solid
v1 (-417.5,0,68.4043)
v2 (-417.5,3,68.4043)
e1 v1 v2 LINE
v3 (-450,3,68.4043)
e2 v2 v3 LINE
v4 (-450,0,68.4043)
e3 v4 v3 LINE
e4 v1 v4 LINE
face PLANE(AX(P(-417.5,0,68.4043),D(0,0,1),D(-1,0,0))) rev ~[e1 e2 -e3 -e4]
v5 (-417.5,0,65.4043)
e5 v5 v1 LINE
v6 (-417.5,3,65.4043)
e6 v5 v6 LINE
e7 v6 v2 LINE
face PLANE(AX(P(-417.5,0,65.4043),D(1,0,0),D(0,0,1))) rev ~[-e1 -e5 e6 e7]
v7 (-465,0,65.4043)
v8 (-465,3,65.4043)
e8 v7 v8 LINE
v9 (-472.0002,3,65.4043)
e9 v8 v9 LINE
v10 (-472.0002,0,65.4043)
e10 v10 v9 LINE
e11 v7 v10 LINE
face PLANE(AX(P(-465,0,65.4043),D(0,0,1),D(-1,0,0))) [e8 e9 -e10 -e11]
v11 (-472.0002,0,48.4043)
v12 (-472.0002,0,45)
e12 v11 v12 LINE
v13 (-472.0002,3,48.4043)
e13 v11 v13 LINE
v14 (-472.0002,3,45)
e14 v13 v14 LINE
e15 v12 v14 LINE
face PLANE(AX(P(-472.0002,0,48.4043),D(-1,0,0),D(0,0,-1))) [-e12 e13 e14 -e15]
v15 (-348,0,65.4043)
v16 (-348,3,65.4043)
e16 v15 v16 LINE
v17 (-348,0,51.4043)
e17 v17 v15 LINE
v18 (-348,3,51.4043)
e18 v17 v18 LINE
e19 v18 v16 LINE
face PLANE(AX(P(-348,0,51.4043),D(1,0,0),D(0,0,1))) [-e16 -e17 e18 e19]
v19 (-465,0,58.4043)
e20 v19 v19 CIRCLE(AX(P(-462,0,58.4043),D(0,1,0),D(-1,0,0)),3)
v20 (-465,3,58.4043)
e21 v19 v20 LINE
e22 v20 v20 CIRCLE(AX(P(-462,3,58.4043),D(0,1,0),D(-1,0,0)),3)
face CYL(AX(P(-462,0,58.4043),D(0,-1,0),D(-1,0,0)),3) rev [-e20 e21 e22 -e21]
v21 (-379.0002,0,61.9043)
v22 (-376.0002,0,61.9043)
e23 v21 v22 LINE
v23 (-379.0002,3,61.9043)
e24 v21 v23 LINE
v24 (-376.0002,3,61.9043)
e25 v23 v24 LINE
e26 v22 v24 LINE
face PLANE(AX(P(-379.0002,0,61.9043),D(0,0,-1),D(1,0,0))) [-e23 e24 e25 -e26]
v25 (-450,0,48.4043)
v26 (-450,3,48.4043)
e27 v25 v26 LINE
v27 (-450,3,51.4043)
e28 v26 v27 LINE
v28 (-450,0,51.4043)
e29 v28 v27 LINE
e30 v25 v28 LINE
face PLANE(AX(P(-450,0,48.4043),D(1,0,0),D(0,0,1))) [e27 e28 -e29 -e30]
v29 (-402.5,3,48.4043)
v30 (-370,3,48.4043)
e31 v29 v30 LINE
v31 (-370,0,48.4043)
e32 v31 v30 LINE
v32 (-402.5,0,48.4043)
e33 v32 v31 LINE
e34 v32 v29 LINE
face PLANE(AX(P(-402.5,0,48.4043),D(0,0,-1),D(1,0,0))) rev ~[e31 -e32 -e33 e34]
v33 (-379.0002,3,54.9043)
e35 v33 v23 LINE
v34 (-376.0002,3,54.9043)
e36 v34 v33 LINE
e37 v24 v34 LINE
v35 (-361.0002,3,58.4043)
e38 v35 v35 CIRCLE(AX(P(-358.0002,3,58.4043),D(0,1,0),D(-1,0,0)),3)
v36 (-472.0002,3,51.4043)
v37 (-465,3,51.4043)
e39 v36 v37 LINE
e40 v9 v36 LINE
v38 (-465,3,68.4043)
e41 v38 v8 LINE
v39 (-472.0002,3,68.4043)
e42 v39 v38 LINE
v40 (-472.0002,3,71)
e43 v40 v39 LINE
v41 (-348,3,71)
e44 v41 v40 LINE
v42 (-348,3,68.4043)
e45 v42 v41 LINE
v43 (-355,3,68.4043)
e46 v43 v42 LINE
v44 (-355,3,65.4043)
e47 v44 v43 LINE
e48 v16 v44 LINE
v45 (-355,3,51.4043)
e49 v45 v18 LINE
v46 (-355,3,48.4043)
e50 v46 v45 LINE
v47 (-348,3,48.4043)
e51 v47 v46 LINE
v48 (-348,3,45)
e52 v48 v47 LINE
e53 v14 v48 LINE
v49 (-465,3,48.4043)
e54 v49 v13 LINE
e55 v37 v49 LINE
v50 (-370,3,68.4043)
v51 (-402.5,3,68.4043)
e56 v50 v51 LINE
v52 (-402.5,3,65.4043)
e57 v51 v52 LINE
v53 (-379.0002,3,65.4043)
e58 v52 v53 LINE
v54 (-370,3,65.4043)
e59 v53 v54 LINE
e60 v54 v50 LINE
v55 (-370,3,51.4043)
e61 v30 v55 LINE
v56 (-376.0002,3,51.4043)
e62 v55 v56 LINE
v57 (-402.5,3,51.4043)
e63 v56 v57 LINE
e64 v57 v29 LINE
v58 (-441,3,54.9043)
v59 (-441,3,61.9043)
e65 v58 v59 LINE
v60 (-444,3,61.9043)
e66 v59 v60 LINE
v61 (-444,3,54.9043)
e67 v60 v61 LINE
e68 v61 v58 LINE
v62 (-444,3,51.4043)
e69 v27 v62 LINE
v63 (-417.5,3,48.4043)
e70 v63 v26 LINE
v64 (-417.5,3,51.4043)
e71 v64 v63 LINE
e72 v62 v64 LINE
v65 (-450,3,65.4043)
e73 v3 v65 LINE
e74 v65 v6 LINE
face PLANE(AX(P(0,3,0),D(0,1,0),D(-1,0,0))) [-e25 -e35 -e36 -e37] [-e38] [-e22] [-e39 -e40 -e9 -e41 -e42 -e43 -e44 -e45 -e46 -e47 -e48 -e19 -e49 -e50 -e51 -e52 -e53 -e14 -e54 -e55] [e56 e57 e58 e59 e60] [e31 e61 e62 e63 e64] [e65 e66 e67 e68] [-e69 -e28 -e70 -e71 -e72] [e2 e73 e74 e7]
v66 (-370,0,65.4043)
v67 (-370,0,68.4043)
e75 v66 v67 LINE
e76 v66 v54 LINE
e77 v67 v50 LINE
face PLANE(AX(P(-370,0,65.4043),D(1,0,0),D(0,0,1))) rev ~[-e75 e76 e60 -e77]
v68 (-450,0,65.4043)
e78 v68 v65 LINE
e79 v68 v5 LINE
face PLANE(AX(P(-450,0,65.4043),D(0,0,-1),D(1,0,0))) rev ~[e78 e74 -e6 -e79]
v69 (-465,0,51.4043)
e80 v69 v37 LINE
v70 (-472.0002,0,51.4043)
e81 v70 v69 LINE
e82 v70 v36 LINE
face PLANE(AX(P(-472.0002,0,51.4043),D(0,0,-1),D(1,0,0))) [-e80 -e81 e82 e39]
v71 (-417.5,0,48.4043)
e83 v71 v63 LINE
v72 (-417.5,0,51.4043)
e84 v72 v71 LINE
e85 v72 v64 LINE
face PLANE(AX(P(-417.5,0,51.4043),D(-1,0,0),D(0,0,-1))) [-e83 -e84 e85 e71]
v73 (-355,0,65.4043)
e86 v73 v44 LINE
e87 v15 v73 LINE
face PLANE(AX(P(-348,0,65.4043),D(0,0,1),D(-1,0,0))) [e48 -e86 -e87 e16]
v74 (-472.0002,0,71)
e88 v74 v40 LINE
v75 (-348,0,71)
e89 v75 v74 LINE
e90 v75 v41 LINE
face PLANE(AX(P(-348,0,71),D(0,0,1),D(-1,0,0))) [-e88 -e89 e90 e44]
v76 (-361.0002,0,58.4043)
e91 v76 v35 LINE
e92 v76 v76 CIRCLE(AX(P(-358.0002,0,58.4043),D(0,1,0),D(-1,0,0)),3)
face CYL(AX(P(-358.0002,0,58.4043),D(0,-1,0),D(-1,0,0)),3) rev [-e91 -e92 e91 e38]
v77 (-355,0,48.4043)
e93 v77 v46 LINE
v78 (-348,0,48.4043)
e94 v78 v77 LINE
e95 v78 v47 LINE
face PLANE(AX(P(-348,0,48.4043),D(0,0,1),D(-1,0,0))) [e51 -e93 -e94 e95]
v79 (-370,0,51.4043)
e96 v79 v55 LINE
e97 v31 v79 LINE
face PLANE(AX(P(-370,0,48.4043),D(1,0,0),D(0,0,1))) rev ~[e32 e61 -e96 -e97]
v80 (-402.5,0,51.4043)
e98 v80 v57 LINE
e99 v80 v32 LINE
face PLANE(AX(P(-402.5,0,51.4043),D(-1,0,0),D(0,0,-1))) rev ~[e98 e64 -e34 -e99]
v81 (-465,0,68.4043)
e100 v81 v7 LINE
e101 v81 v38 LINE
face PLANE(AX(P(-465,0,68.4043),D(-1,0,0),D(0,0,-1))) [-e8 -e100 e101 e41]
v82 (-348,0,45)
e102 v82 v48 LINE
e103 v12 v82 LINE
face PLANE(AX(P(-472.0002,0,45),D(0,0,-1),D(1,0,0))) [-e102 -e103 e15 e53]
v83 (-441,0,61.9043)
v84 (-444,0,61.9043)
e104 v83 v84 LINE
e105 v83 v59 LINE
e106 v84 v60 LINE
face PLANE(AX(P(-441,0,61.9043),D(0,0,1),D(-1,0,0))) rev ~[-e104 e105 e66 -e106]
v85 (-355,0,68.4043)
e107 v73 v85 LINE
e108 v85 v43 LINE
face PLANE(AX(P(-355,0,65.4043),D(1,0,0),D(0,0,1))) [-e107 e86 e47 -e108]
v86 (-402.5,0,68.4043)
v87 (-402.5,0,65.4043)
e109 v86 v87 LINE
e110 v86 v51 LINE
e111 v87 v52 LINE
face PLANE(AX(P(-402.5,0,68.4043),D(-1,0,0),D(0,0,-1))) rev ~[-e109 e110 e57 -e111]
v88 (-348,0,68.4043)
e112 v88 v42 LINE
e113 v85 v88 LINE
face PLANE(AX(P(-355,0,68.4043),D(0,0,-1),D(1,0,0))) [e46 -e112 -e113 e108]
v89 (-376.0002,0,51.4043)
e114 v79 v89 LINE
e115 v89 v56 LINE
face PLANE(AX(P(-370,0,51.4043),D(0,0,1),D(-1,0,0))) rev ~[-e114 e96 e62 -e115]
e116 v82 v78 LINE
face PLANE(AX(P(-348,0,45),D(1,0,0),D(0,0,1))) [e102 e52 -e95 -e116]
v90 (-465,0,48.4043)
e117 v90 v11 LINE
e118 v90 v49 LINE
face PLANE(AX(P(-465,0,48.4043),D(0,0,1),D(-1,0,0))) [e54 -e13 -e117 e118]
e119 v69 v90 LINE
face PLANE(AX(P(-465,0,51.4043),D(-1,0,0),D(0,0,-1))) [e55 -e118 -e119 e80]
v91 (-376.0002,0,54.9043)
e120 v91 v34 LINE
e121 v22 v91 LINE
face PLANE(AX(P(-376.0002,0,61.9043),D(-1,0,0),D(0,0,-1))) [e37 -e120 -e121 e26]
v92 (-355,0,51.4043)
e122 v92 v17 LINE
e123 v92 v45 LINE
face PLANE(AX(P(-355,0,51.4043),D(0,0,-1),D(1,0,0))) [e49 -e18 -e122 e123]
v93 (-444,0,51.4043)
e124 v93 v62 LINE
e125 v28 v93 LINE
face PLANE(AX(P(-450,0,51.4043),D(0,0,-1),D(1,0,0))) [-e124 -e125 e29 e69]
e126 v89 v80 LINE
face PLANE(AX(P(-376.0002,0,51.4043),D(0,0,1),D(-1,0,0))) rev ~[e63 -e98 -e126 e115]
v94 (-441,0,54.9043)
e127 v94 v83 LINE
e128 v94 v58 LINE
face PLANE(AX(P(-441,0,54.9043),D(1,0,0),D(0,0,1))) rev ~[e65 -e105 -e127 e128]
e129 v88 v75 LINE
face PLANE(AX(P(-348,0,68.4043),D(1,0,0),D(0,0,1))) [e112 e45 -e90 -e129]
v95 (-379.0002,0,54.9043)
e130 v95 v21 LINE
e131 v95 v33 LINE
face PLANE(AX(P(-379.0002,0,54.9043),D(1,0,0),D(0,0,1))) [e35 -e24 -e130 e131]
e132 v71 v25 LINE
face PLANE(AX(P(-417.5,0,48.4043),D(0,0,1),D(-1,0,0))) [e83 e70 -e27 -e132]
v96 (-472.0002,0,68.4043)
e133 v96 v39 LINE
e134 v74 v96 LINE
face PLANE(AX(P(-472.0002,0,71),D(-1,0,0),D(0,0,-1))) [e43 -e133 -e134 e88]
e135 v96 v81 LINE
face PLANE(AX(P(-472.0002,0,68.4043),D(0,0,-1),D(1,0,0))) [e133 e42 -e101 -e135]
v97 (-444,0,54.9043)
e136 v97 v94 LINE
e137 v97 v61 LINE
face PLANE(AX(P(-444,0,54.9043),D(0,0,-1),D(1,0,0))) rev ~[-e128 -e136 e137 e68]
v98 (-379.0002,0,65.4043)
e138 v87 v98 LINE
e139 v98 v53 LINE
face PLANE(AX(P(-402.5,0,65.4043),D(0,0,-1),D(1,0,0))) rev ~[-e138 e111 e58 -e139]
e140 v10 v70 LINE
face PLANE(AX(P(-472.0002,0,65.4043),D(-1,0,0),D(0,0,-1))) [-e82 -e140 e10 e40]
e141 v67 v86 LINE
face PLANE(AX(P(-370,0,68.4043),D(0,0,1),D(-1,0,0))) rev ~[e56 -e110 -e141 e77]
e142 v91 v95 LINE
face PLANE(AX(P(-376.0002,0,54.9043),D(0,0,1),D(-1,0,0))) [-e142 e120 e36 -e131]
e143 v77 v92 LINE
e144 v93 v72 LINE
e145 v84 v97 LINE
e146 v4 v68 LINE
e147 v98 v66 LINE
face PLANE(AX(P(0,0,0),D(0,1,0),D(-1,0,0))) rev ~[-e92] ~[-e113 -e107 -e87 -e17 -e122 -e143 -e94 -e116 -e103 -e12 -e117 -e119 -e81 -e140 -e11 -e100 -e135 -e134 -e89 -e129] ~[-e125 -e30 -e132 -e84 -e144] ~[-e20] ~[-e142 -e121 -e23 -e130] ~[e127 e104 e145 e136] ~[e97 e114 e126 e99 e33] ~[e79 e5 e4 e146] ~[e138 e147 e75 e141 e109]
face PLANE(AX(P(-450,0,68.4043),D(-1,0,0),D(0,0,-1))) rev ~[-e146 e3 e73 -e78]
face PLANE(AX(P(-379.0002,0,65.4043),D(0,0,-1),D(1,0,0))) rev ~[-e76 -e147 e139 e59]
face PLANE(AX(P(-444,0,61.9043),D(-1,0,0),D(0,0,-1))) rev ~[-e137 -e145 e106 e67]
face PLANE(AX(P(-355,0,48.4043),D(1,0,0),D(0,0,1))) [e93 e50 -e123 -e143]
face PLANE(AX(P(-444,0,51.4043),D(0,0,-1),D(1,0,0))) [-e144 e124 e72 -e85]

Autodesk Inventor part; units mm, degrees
ref_plane "YZ Plane" through (0, 0, 0) normal (1, 0, 0) x (0, 1, 0)
ref_plane "XZ Plane" through (0, 0, 0) normal (0, 1, 0) x (-1, 0, 0)
ref_plane "XY Plane" through (0, 0, 0) normal (0, 0, 1) x (1, 0, 0)
sketch "Sketch2" plane through (0, 0, 0) normal (0, 1, 0) x (-1, 0, 0)
  line L0 (600, 68.7059) -> (634, 68.7059)
  arc A0 (642, 60.7059) -> (634, 68.7059) centre (634, 60.7059) ccw
  line L1 (642, 60.7059) -> (642, 56.7059)
  arc A1 (634, 48.7059) -> (642, 56.7059) centre (634, 56.7059) ccw
  line L2 (634, 48.7059) -> (632, 48.7059)
  arc A2 (632, 48.7059) -> (624, 40.7059) centre (632, 40.7059) ccw
  line L3 (624, 40.7059) -> (624, 36.7059)
  arc A3 (624, 36.7059) -> (632, 28.7059) centre (632, 36.7059) ccw
  line L4 (632, 28.7059) -> (634, 28.7059)
  arc A4 (642, 20.7059) -> (634, 28.7059) centre (634, 20.7059) ccw
  line L5 (642, 20.7059) -> (642, 16.7059)
  arc A5 (634, 8.7059) -> (642, 16.7059) centre (634, 16.7059) ccw
  line L6 (634, 8.7059) -> (600, 8.7059)
  arc A6 (592, 16.7059) -> (600, 8.7059) centre (600, 16.7059) ccw
  line L7 (592, 16.7059) -> (592, 21.7059)
  line L8 (592, 21.7059) -> (606.1716, 35.8774)
  arc A7 (606.1716, 35.8774) -> (606.1716, 41.5343) centre (603.3431, 38.7059) ccw
  line L9 (606.1716, -97.5343) -> (592, -111.7059)
  line L10 (592, -111.7059) -> (592, -116.7059)
  arc A8 (592, -116.7059) -> (600, -124.7059) centre (600, -116.7059) ccw
  line L11 (600, -124.7059) -> (634, -124.7059)
  arc A9 (634, -124.7059) -> (642, -116.7059) centre (634, -116.7059) ccw
  line L12 (642, -116.7059) -> (642, -112.7059)
  arc A10 (642, -112.7059) -> (634, -104.7059) centre (634, -112.7059) ccw
  line L13 (634, -104.7059) -> (632, -104.7059)
  arc A11 (624, -96.7059) -> (632, -104.7059) centre (632, -96.7059) ccw
  line L14 (624, -96.7059) -> (624, -92.7059)
  arc A12 (632, -84.7059) -> (624, -92.7059) centre (632, -92.7059) ccw
  line L15 (632, -84.7059) -> (634, -84.7059)
  arc A13 (634, -84.7059) -> (642, -76.7059) centre (634, -76.7059) ccw
  line L16 (642, -76.7059) -> (642, -72.7059)
  arc A14 (642, -72.7059) -> (634, -64.7059) centre (634, -72.7059) ccw
  line L17 (634, -64.7059) -> (600, -64.7059)
  arc A15 (600, -64.7059) -> (592, -72.7059) centre (600, -72.7059) ccw
  line L18 (592, -72.7059) -> (592, -77.7059)
  line L19 (592, -77.7059) -> (606.1716, -91.8774)
  arc A16 (606.1716, -97.5343) -> (606.1716, -91.8774) centre (603.3431, -94.7059) ccw
  circle A17 centre (618, -74.7059) radius 3
  circle A18 centre (634, -74.7059) radius 3
  circle A19 centre (634, -114.7059) radius 3
  circle A20 centre (618, -114.7059) radius 3
  circle A21 centre (618, 58.7059) radius 3
  circle A22 centre (634, 58.7059) radius 3
  circle A23 centre (634, 18.7059) radius 3
  circle A24 centre (618, 18.7059) radius 3
  line L20 (606.1716, 41.5343) -> (592, 55.7059)
  line L21 (592, 55.7059) -> (592, 60.7059)
  arc A25 (600, 68.7059) -> (592, 60.7059) centre (600, 60.7059) ccw
  line L22 (329, -137) -> (729, -137)
  line L23 (729, -137) -> (729, 83)
  line L24 (729, 83) -> (329, 83)
  line L25 (329, 83) -> (329, -137)
  line L26 (444, -107.4043) -> (417.5, -107.4043)
  line L27 (417.5, -107.4043) -> (417.5, -104.4043)
  line L28 (417.5, -104.4043) -> (450, -104.4043)
  line L29 (450, -104.4043) -> (450, -107.4043)
  line L30 (450, -107.4043) -> (444, -107.4043)
  line L31 (441, -117.9043) -> (444, -117.9043)
  line L32 (444, -117.9043) -> (444, -110.9043)
  line L33 (444, -110.9043) -> (441, -110.9043)
  line L34 (441, -110.9043) -> (441, -117.9043)
  line L35 (417.5, -121.4043) -> (417.5, -124.4043)
  line L36 (417.5, -124.4043) -> (450, -124.4043)
  line L37 (450, -124.4043) -> (450, -121.4043)
  line L38 (450, -121.4043) -> (417.5, -121.4043)
  line L39 (376.0002, -107.4043) -> (402.5, -107.4043)
  line L40 (402.5, -107.4043) -> (402.5, -104.4043)
  line L41 (402.5, -104.4043) -> (370, -104.4043)
  line L42 (370, -104.4043) -> (370, -107.4043)
  line L43 (370, -107.4043) -> (376.0002, -107.4043)
  line L44 (379.0002, -121.4043) -> (370, -121.4043)
  line L45 (370, -121.4043) -> (370, -124.4043)
  line L46 (370, -124.4043) -> (402.5, -124.4043)
  line L47 (402.5, -124.4043) -> (402.5, -121.4043)
  line L48 (402.5, -121.4043) -> (379.0002, -121.4043)
  line L49 (379.0002, -117.9043) -> (376.0002, -117.9043)
  line L50 (376.0002, -117.9043) -> (376.0002, -110.9043)
  line L51 (376.0002, -110.9043) -> (379.0002, -110.9043)
  line L52 (379.0002, -110.9043) -> (379.0002, -117.9043)
  line L53 (348, -127) -> (472.0002, -127)
  line L54 (472.0002, -127) -> (472.0002, -124.4043)
  line L55 (472.0002, -124.4043) -> (465, -124.4043)
  line L56 (465, -124.4043) -> (465, -121.4043)
  line L57 (465, -121.4043) -> (472.0002, -121.4043)
  line L58 (472.0002, -121.4043) -> (472.0002, -107.4043)
  line L59 (472.0002, -107.4043) -> (465, -107.4043)
  line L60 (465, -107.4043) -> (465, -104.4043)
  line L61 (465, -104.4043) -> (472.0002, -104.4043)
  line L62 (472.0002, -104.4043) -> (472.0002, -101)
  line L63 (472.0002, -101) -> (348, -101)
  line L64 (348, -101) -> (348, -104.4043)
  line L65 (348, -104.4043) -> (355, -104.4043)
  line L66 (355, -104.4043) -> (355, -107.4043)
  line L67 (355, -107.4043) -> (348, -107.4043)
  line L68 (348, -107.4043) -> (348, -121.4043)
  line L69 (348, -121.4043) -> (355, -121.4043)
  line L70 (355, -121.4043) -> (355, -124.4043)
  line L71 (355, -124.4043) -> (348, -124.4043)
  line L72 (348, -124.4043) -> (348, -127)
  circle A26 centre (447.7252, -37.7011) radius 3
  circle A27 centre (372.2748, -37.7011) radius 3
  circle A28 centre (410, -64.4043) radius 3
  circle A29 centre (448.5, -66.4043) radius 3
  circle A30 centre (371.5, -66.4043) radius 3
  circle A31 centre (410, -80.4043) radius 3
  line L73 (379, -84.4043) -> (376, -84.4043)
  line L74 (376, -84.4043) -> (376, -74.4043)
  line L75 (376, -74.4043) -> (379, -74.4043)
  line L76 (379, -74.4043) -> (379, -84.4043)
  line L77 (379, -57.4043) -> (376, -57.4043)
  line L78 (376, -57.4043) -> (376, -47.4043)
  line L79 (376, -47.4043) -> (379, -47.4043)
  line L80 (379, -47.4043) -> (379, -57.4043)
  line L81 (441, -47.4043) -> (441, -57.4043)
  line L82 (441, -57.4043) -> (444, -57.4043)
  line L83 (444, -57.4043) -> (444, -47.4043)
  line L84 (444, -47.4043) -> (441, -47.4043)
  line L85 (441, -74.4043) -> (441, -84.4043)
  line L86 (441, -84.4043) -> (444, -84.4043)
  line L87 (444, -84.4043) -> (444, -74.4043)
  line L88 (444, -74.4043) -> (441, -74.4043)
  line L89 (427, -44.4043) -> (427, -72.4043)
  arc A32 (427, -72.4043) -> (433, -72.4043) centre (430, -72.4043) ccw
  line L90 (433, -72.4043) -> (433, -44.4043)
  arc A33 (433, -44.4043) -> (427, -44.4043) centre (430, -44.4043) ccw
  arc A34 (387, -72.4043) -> (393, -72.4043) centre (390, -72.4043) ccw
  line L91 (393, -72.4043) -> (393, -44.4043)
  arc A35 (393, -44.4043) -> (387, -44.4043) centre (390, -44.4043) ccw
  line L92 (387, -44.4043) -> (387, -72.4043)
  line L93 (372.3983, -27.7019) -> (383.2576, -27.7018)
  arc A36 (390.8984, -33.3311) -> (383.2576, -27.7018) centre (383.2577, -35.7018) ccw
  arc A37 (390.8984, -33.3311) -> (429.1018, -33.3307) centre (410, -27.4043) ccw
  arc A38 (436.7424, -27.7012) -> (429.1018, -33.3307) centre (436.7425, -35.7012) ccw
  line L94 (436.7424, -27.7012) -> (447.7251, -27.7011)
  arc A39 (457.0715, -34.1449) -> (447.7251, -27.7011) centre (447.7252, -37.7011) ccw
  line L95 (457.0715, -34.1449) -> (477.9368, -88.9818)
  arc A40 (474.1982, -94.4043) -> (477.9368, -88.9818) centre (474.1982, -90.4043) ccw
  line L96 (474.1982, -94.4043) -> (465, -94.4043)
  line L97 (465, -94.4043) -> (465, -91.4043)
  line L98 (465, -91.4043) -> (450, -91.4043)
  line L99 (450, -91.4043) -> (450, -94.4043)
  line L100 (450, -94.4043) -> (417.5, -94.4043)
  line L101 (417.5, -94.4043) -> (417.5, -91.4043)
  line L102 (417.5, -91.4043) -> (402.5, -91.4043)
  line L103 (402.5, -91.4043) -> (402.5, -94.4043)
  line L104 (402.5, -94.4043) -> (370, -94.4043)
  line L105 (370, -94.4043) -> (370, -91.4043)
  line L106 (370, -91.4043) -> (355, -91.4043)
  line L107 (355, -91.4043) -> (355, -94.4043)
  line L108 (355, -94.4043) -> (345.8018, -94.4043)
  arc A41 (342.0632, -88.9818) -> (345.8018, -94.4043) centre (345.8018, -90.4043) ccw
  line L109 (342.0632, -88.9818) -> (362.9285, -34.1449)
  arc A42 (372.3983, -27.7019) -> (362.9285, -34.1449) centre (372.2748, -37.7011) ccw
  line L110 (491.3983, -95.7004) -> (502.2576, -95.7005)
  arc A43 (502.2576, -95.7005) -> (509.8984, -90.0712) centre (502.2577, -87.7005) ccw
  arc A44 (548.1018, -90.0716) -> (509.8984, -90.0712) centre (529, -95.998) ccw
  arc A45 (548.1018, -90.0716) -> (555.7424, -95.701) centre (555.7425, -87.701) ccw
  line L111 (555.7424, -95.701) -> (566.7251, -95.7011)
  arc A46 (566.7251, -95.7011) -> (576.0715, -89.2574) centre (566.7252, -85.7011) ccw
  line L112 (576.0715, -89.2574) -> (596.9368, -34.4205)
  arc A47 (596.9368, -34.4205) -> (593.1982, -28.998) centre (593.1982, -32.998) ccw
  line L113 (593.1982, -28.998) -> (584, -28.998)
  line L114 (584, -28.998) -> (584, -31.998)
  line L115 (584, -31.998) -> (569, -31.998)
  line L116 (569, -31.998) -> (569, -28.998)
  line L117 (569, -28.998) -> (536.5, -28.998)
  line L118 (536.5, -28.998) -> (536.5, -31.998)
  line L119 (536.5, -31.998) -> (521.5, -31.998)
  line L120 (521.5, -31.998) -> (521.5, -28.998)
  line L121 (521.5, -28.998) -> (489, -28.998)
  line L122 (489, -28.998) -> (489, -31.998)
  line L123 (489, -31.998) -> (474, -31.998)
  line L124 (474, -31.998) -> (474, -28.998)
  line L125 (474, -28.998) -> (464.8018, -28.998)
  arc A48 (464.8018, -28.998) -> (461.0632, -34.4205) centre (464.8018, -32.998) ccw
  line L126 (461.0632, -34.4205) -> (481.9285, -89.2574)
  arc A49 (481.9285, -89.2574) -> (491.3983, -95.7004) centre (491.2748, -85.7011) ccw
  arc A50 (512, -50.998) -> (506, -50.998) centre (509, -50.998) ccw
  line L127 (512, -50.998) -> (512, -78.998)
  arc A51 (506, -78.998) -> (512, -78.998) centre (509, -78.998) ccw
  line L128 (506, -78.998) -> (506, -50.998)
  line L129 (546, -78.998) -> (546, -50.998)
  arc A52 (552, -50.998) -> (546, -50.998) centre (549, -50.998) ccw
  line L130 (552, -50.998) -> (552, -78.998)
  arc A53 (546, -78.998) -> (552, -78.998) centre (549, -78.998) ccw
  line L131 (560, -48.998) -> (560, -38.998)
  line L132 (560, -38.998) -> (563, -38.998)
  line L133 (563, -38.998) -> (563, -48.998)
  line L134 (563, -48.998) -> (560, -48.998)
  line L135 (560, -75.998) -> (560, -65.998)
  line L136 (560, -65.998) -> (563, -65.998)
  line L137 (563, -65.998) -> (563, -75.998)
  line L138 (563, -75.998) -> (560, -75.998)
  line L139 (498, -65.998) -> (495, -65.998)
  line L140 (495, -65.998) -> (495, -75.998)
  line L141 (495, -75.998) -> (498, -75.998)
  line L142 (498, -75.998) -> (498, -65.998)
  line L143 (498, -38.998) -> (495, -38.998)
  line L144 (495, -38.998) -> (495, -48.998)
  line L145 (495, -48.998) -> (498, -48.998)
  line L146 (498, -48.998) -> (498, -38.998)
  circle A54 centre (529, -42.998) radius 3
  circle A55 centre (490.5, -56.998) radius 3
  circle A56 centre (567.5, -56.998) radius 3
  circle A57 centre (529, -58.998) radius 3
  circle A58 centre (491.2748, -85.7011) radius 3
  circle A59 centre (566.7252, -85.7011) radius 3
  circle A60 centre (462, -114.4043) radius 3
  circle A61 centre (358.0002, -114.4043) radius 3
  line L147 (578, -104.4043) -> (578, -107.4043)
  line L148 (578, -107.4043) -> (585, -107.4043)
  line L149 (585, -107.4043) -> (585, -110.9043)
  line L150 (585, -110.9043) -> (588, -110.9043)
  line L151 (588, -110.9043) -> (588, -117.9043)
  line L152 (588, -117.9043) -> (585, -117.9043)
  line L153 (585, -117.9043) -> (585, -121.4043)
  line L154 (585, -121.4043) -> (578, -121.4043)
  line L155 (578, -121.4043) -> (578, -124.4043)
  line L156 (578, -124.4043) -> (568, -124.4043)
  line L157 (568, -124.4043) -> (568, -121.4043)
  line L158 (568, -121.4043) -> (551, -121.4043)
  line L159 (551, -121.4043) -> (551, -124.4043)
  line L160 (551, -124.4043) -> (541, -124.4043)
  line L161 (541, -124.4043) -> (541, -121.4043)
  line L162 (541, -121.4043) -> (535, -121.4043)
  line L163 (535, -121.4043) -> (535, -107.4043)
  line L164 (535, -107.4043) -> (541, -107.4043)
  line L165 (541, -107.4043) -> (541, -104.4043)
  line L166 (541, -104.4043) -> (551, -104.4043)
  line L167 (551, -104.4043) -> (551, -107.4043)
  line L168 (551, -107.4043) -> (568, -107.4043)
  line L169 (568, -107.4043) -> (568, -104.4043)
  line L170 (568, -104.4043) -> (578, -104.4043)
  line L171 (520, -104.4043) -> (520, -107.4043)
  line L172 (520, -107.4043) -> (527, -107.4043)
  line L173 (527, -107.4043) -> (527, -110.9043)
  line L174 (527, -110.9043) -> (530, -110.9043)
  line L175 (530, -110.9043) -> (530, -117.9043)
  line L176 (530, -117.9043) -> (527, -117.9043)
  line L177 (527, -117.9043) -> (527, -121.4043)
  line L178 (527, -121.4043) -> (520, -121.4043)
  line L179 (520, -121.4043) -> (520, -124.4043)
  line L180 (520, -124.4043) -> (510, -124.4043)
  line L181 (510, -124.4043) -> (510, -121.4043)
  line L182 (510, -121.4043) -> (493, -121.4043)
  line L183 (493, -121.4043) -> (493, -124.4043)
  line L184 (493, -124.4043) -> (483, -124.4043)
  line L185 (483, -124.4043) -> (483, -121.4043)
  line L186 (483, -121.4043) -> (477, -121.4043)
  line L187 (477, -121.4043) -> (477, -107.4043)
  line L188 (477, -107.4043) -> (483, -107.4043)
  line L189 (483, -107.4043) -> (483, -104.4043)
  line L190 (483, -104.4043) -> (493, -104.4043)
  line L191 (493, -104.4043) -> (493, -107.4043)
  line L192 (493, -107.4043) -> (510, -107.4043)
  line L193 (510, -107.4043) -> (510, -104.4043)
  line L194 (510, -104.4043) -> (520, -104.4043)
  line L195 (520, 48.4043) -> (520, 51.4043)
  line L196 (520, 51.4043) -> (527, 51.4043)
  line L197 (527, 51.4043) -> (527, 54.9043)
  line L198 (527, 54.9043) -> (530, 54.9043)
  line L199 (530, 54.9043) -> (530, 61.9043)
  line L200 (530, 61.9043) -> (527, 61.9043)
  line L201 (527, 61.9043) -> (527, 65.4043)
  line L202 (527, 65.4043) -> (520, 65.4043)
  line L203 (520, 65.4043) -> (520, 68.4043)
  line L204 (520, 68.4043) -> (510, 68.4043)
  line L205 (510, 68.4043) -> (510, 65.4043)
  line L206 (510, 65.4043) -> (493, 65.4043)
  line L207 (493, 65.4043) -> (493, 68.4043)
  line L208 (493, 68.4043) -> (483, 68.4043)
  line L209 (483, 68.4043) -> (483, 65.4043)
  line L210 (483, 65.4043) -> (477, 65.4043)
  line L211 (477, 65.4043) -> (477, 51.4043)
  line L212 (477, 51.4043) -> (483, 51.4043)
  line L213 (483, 51.4043) -> (483, 48.4043)
  line L214 (483, 48.4043) -> (493, 48.4043)
  line L215 (493, 48.4043) -> (493, 51.4043)
  line L216 (493, 51.4043) -> (510, 51.4043)
  line L217 (510, 51.4043) -> (510, 48.4043)
  line L218 (510, 48.4043) -> (520, 48.4043)
  line L219 (578, 48.4043) -> (578, 51.4043)
  line L220 (578, 51.4043) -> (585, 51.4043)
  line L221 (585, 51.4043) -> (585, 54.9043)
  line L222 (585, 54.9043) -> (588, 54.9043)
  line L223 (588, 54.9043) -> (588, 61.9043)
  line L224 (588, 61.9043) -> (585, 61.9043)
  line L225 (585, 61.9043) -> (585, 65.4043)
  line L226 (585, 65.4043) -> (578, 65.4043)
  line L227 (578, 65.4043) -> (578, 68.4043)
  line L228 (578, 68.4043) -> (568, 68.4043)
  line L229 (568, 68.4043) -> (568, 65.4043)
  line L230 (568, 65.4043) -> (551, 65.4043)
  line L231 (551, 65.4043) -> (551, 68.4043)
  line L232 (551, 68.4043) -> (541, 68.4043)
  line L233 (541, 68.4043) -> (541, 65.4043)
  line L234 (541, 65.4043) -> (535, 65.4043)
  line L235 (535, 65.4043) -> (535, 51.4043)
  line L236 (535, 51.4043) -> (541, 51.4043)
  line L237 (541, 51.4043) -> (541, 48.4043)
  line L238 (541, 48.4043) -> (551, 48.4043)
  line L239 (551, 48.4043) -> (551, 51.4043)
  line L240 (551, 51.4043) -> (568, 51.4043)
  line L241 (568, 51.4043) -> (568, 48.4043)
  line L242 (568, 48.4043) -> (578, 48.4043)
  circle A62 centre (358.0002, 58.4043) radius 3
  circle A63 centre (462, 58.4043) radius 3
  circle A64 centre (566.7252, 29.7011) radius 3
  circle A65 centre (491.2748, 29.7011) radius 3
  circle A66 centre (529, 2.998) radius 3
  circle A67 centre (567.5, 0.998) radius 3
  circle A68 centre (490.5, 0.998) radius 3
  circle A69 centre (529, -13.002) radius 3
  line L243 (498, -17.002) -> (495, -17.002)
  line L244 (495, -17.002) -> (495, -7.002)
  line L245 (495, -7.002) -> (498, -7.002)
  line L246 (498, -7.002) -> (498, -17.002)
  line L247 (498, 9.998) -> (495, 9.998)
  line L248 (495, 9.998) -> (495, 19.998)
  line L249 (495, 19.998) -> (498, 19.998)
  line L250 (498, 19.998) -> (498, 9.998)
  line L251 (560, 19.998) -> (560, 9.998)
  line L252 (560, 9.998) -> (563, 9.998)
  line L253 (563, 9.998) -> (563, 19.998)
  line L254 (563, 19.998) -> (560, 19.998)
  line L255 (560, -7.002) -> (560, -17.002)
  line L256 (560, -17.002) -> (563, -17.002)
  line L257 (563, -17.002) -> (563, -7.002)
  line L258 (563, -7.002) -> (560, -7.002)
  line L259 (546, 22.998) -> (546, -5.002)
  arc A70 (546, -5.002) -> (552, -5.002) centre (549, -5.002) ccw
  line L260 (552, -5.002) -> (552, 22.998)
  arc A71 (552, 22.998) -> (546, 22.998) centre (549, 22.998) ccw
  arc A72 (506, -5.002) -> (512, -5.002) centre (509, -5.002) ccw
  line L261 (512, -5.002) -> (512, 22.998)
  arc A73 (512, 22.998) -> (506, 22.998) centre (509, 22.998) ccw
  line L262 (506, 22.998) -> (506, -5.002)
  line L263 (491.3983, 39.7004) -> (502.2576, 39.7005)
  arc A74 (509.8984, 34.0712) -> (502.2576, 39.7005) centre (502.2577, 31.7005) ccw
  arc A75 (509.8984, 34.0712) -> (548.1018, 34.0716) centre (529, 39.998) ccw
  arc A76 (555.7424, 39.701) -> (548.1018, 34.0716) centre (555.7425, 31.701) ccw
  line L264 (555.7424, 39.701) -> (566.7251, 39.7011)
  arc A77 (576.0715, 33.2574) -> (566.7251, 39.7011) centre (566.7252, 29.7011) ccw
  line L265 (576.0715, 33.2574) -> (596.9368, -21.5795)
  arc A78 (593.1982, -27.002) -> (596.9368, -21.5795) centre (593.1982, -23.002) ccw
  line L266 (593.1982, -27.002) -> (584, -27.002)
  line L267 (584, -27.002) -> (584, -24.002)
  line L268 (584, -24.002) -> (569, -24.002)
  line L269 (569, -24.002) -> (569, -27.002)
  line L270 (569, -27.002) -> (536.5, -27.002)
  line L271 (536.5, -27.002) -> (536.5, -24.002)
  line L272 (536.5, -24.002) -> (521.5, -24.002)
  line L273 (521.5, -24.002) -> (521.5, -27.002)
  line L274 (521.5, -27.002) -> (489, -27.002)
  line L275 (489, -27.002) -> (489, -24.002)
  line L276 (489, -24.002) -> (474, -24.002)
  line L277 (474, -24.002) -> (474, -27.002)
  line L278 (474, -27.002) -> (464.8018, -27.002)
  arc A79 (461.0632, -21.5795) -> (464.8018, -27.002) centre (464.8018, -23.002) ccw
  line L279 (461.0632, -21.5795) -> (481.9285, 33.2574)
  arc A80 (491.3983, 39.7004) -> (481.9285, 33.2574) centre (491.2748, 29.7011) ccw
  line L280 (372.3983, -28.2981) -> (383.2576, -28.2982)
  arc A81 (383.2576, -28.2982) -> (390.8984, -22.6689) centre (383.2577, -20.2982) ccw
  arc A82 (429.1018, -22.6693) -> (390.8984, -22.6689) centre (410, -28.5957) ccw
  arc A83 (429.1018, -22.6693) -> (436.7424, -28.2988) centre (436.7425, -20.2988) ccw
  line L281 (436.7424, -28.2988) -> (447.7251, -28.2989)
  arc A84 (447.7251, -28.2989) -> (457.0715, -21.8551) centre (447.7252, -18.2989) ccw
  line L282 (457.0715, -21.8551) -> (477.9368, 32.9818)
  arc A85 (477.9368, 32.9818) -> (474.1982, 38.4043) centre (474.1982, 34.4043) ccw
  line L283 (474.1982, 38.4043) -> (465, 38.4043)
  line L284 (465, 38.4043) -> (465, 35.4043)
  line L285 (465, 35.4043) -> (450, 35.4043)
  line L286 (450, 35.4043) -> (450, 38.4043)
  line L287 (450, 38.4043) -> (417.5, 38.4043)
  line L288 (417.5, 38.4043) -> (417.5, 35.4043)
  line L289 (417.5, 35.4043) -> (402.5, 35.4043)
  line L290 (402.5, 35.4043) -> (402.5, 38.4043)
  line L291 (402.5, 38.4043) -> (370, 38.4043)
  line L292 (370, 38.4043) -> (370, 35.4043)
  line L293 (370, 35.4043) -> (355, 35.4043)
  line L294 (355, 35.4043) -> (355, 38.4043)
  line L295 (355, 38.4043) -> (345.8018, 38.4043)
  arc A86 (345.8018, 38.4043) -> (342.0632, 32.9818) centre (345.8018, 34.4043) ccw
  line L296 (342.0632, 32.9818) -> (362.9285, -21.8551)
  arc A87 (362.9285, -21.8551) -> (372.3983, -28.2981) centre (372.2748, -18.2989) ccw
  arc A88 (393, 16.4043) -> (387, 16.4043) centre (390, 16.4043) ccw
  line L297 (393, 16.4043) -> (393, -11.5957)
  arc A89 (387, -11.5957) -> (393, -11.5957) centre (390, -11.5957) ccw
  line L298 (387, -11.5957) -> (387, 16.4043)
  line L299 (427, -11.5957) -> (427, 16.4043)
  arc A90 (433, 16.4043) -> (427, 16.4043) centre (430, 16.4043) ccw
  line L300 (433, 16.4043) -> (433, -11.5957)
  arc A91 (427, -11.5957) -> (433, -11.5957) centre (430, -11.5957) ccw
  line L301 (441, 18.4043) -> (441, 28.4043)
  line L302 (441, 28.4043) -> (444, 28.4043)
  line L303 (444, 28.4043) -> (444, 18.4043)
  line L304 (444, 18.4043) -> (441, 18.4043)
  line L305 (441, -8.5957) -> (441, 1.4043)
  line L306 (441, 1.4043) -> (444, 1.4043)
  line L307 (444, 1.4043) -> (444, -8.5957)
  line L308 (444, -8.5957) -> (441, -8.5957)
  line L309 (379, 1.4043) -> (376, 1.4043)
  line L310 (376, 1.4043) -> (376, -8.5957)
  line L311 (376, -8.5957) -> (379, -8.5957)
  line L312 (379, -8.5957) -> (379, 1.4043)
  line L313 (379, 28.4043) -> (376, 28.4043)
  line L314 (376, 28.4043) -> (376, 18.4043)
  line L315 (376, 18.4043) -> (379, 18.4043)
  line L316 (379, 18.4043) -> (379, 28.4043)
  circle A92 centre (410, 24.4043) radius 3
  circle A93 centre (371.5, 10.4043) radius 3
  circle A94 centre (448.5, 10.4043) radius 3
  circle A95 centre (410, 8.4043) radius 3
  circle A96 centre (372.2748, -18.2989) radius 3
  circle A97 centre (447.7252, -18.2989) radius 3
  line L317 (348, 71) -> (472.0002, 71)
  line L318 (472.0002, 71) -> (472.0002, 68.4043)
  line L319 (472.0002, 68.4043) -> (465, 68.4043)
  line L320 (465, 68.4043) -> (465, 65.4043)
  line L321 (465, 65.4043) -> (472.0002, 65.4043)
  line L322 (472.0002, 65.4043) -> (472.0002, 51.4043)
  line L323 (472.0002, 51.4043) -> (465, 51.4043)
  line L324 (465, 51.4043) -> (465, 48.4043)
  line L325 (465, 48.4043) -> (472.0002, 48.4043)
  line L326 (472.0002, 48.4043) -> (472.0002, 45)
  line L327 (472.0002, 45) -> (348, 45)
  line L328 (348, 45) -> (348, 48.4043)
  line L329 (348, 48.4043) -> (355, 48.4043)
  line L330 (355, 48.4043) -> (355, 51.4043)
  line L331 (355, 51.4043) -> (348, 51.4043)
  line L332 (348, 51.4043) -> (348, 65.4043)
  line L333 (348, 65.4043) -> (355, 65.4043)
  line L334 (355, 65.4043) -> (355, 68.4043)
  line L335 (355, 68.4043) -> (348, 68.4043)
  line L336 (348, 68.4043) -> (348, 71)
  line L337 (379.0002, 61.9043) -> (376.0002, 61.9043)
  line L338 (376.0002, 61.9043) -> (376.0002, 54.9043)
  line L339 (376.0002, 54.9043) -> (379.0002, 54.9043)
  line L340 (379.0002, 54.9043) -> (379.0002, 61.9043)
  line L341 (379.0002, 65.4043) -> (370, 65.4043)
  line L342 (370, 65.4043) -> (370, 68.4043)
  line L343 (370, 68.4043) -> (402.5, 68.4043)
  line L344 (402.5, 68.4043) -> (402.5, 65.4043)
  line L345 (402.5, 65.4043) -> (379.0002, 65.4043)
  line L346 (376.0002, 51.4043) -> (402.5, 51.4043)
  line L347 (402.5, 51.4043) -> (402.5, 48.4043)
  line L348 (402.5, 48.4043) -> (370, 48.4043)
  line L349 (370, 48.4043) -> (370, 51.4043)
  line L350 (370, 51.4043) -> (376.0002, 51.4043)
  line L351 (417.5, 65.4043) -> (417.5, 68.4043)
  line L352 (417.5, 68.4043) -> (450, 68.4043)
  line L353 (450, 68.4043) -> (450, 65.4043)
  line L354 (450, 65.4043) -> (417.5, 65.4043)
  line L355 (441, 61.9043) -> (444, 61.9043)
  line L356 (444, 61.9043) -> (444, 54.9043)
  line L357 (444, 54.9043) -> (441, 54.9043)
  line L358 (441, 54.9043) -> (441, 61.9043)
  line L359 (444, 51.4043) -> (417.5, 51.4043)
  line L360 (417.5, 51.4043) -> (417.5, 48.4043)
  line L361 (417.5, 48.4043) -> (450, 48.4043)
  line L362 (450, 48.4043) -> (450, 51.4043)
  line L363 (450, 51.4043) -> (444, 51.4043)
  line L364 (672, -101.5) -> (672, -103)
  line L365 (672, -103) -> (695, -103)
  line L366 (695, -103) -> (695, -107.1363)
  arc A98 (692.2891, -110.9229) -> (695, -107.1363) centre (691, -107.1363) ccw
  line L367 (692.2891, -110.9229) -> (650.6445, -125.0997)
  arc A99 (648, -123.2064) -> (650.6445, -125.0997) centre (650, -123.2064) ccw
  line L368 (648, -123.2064) -> (648, -115)
  line L369 (648, -115) -> (649, -115)
  arc A100 (649, -115) -> (651, -113) centre (649, -113) ccw
  line L370 (651, -113) -> (651, -90)
  arc A101 (651, -90) -> (649, -88) centre (649, -90) ccw
  line L371 (649, -88) -> (648, -88)
  line L372 (648, -88) -> (648, -79.7936)
  arc A102 (650.6445, -77.9003) -> (648, -79.7936) centre (650, -79.7936) ccw
  line L373 (650.6445, -77.9003) -> (692.2891, -92.0771)
  arc A103 (695, -95.8637) -> (692.2891, -92.0771) centre (691, -95.8637) ccw
  line L374 (695, -95.8637) -> (695, -100)
  line L375 (695, -100) -> (672, -100)
  line L376 (672, -100) -> (672, -101.5)
  line L377 (671, 47.5) -> (671, 46)
  line L378 (671, 46) -> (694, 46)
  line L379 (694, 46) -> (694, 41.8637)
  arc A104 (691.2891, 38.0771) -> (694, 41.8637) centre (690, 41.8637) ccw
  line L380 (691.2891, 38.0771) -> (649.6445, 23.9003)
  arc A105 (647, 25.7936) -> (649.6445, 23.9003) centre (649, 25.7936) ccw
  line L381 (647, 25.7936) -> (647, 34)
  line L382 (647, 34) -> (648, 34)
  arc A106 (648, 34) -> (650, 36) centre (648, 36) ccw
  line L383 (650, 36) -> (650, 59)
  arc A107 (650, 59) -> (648, 61) centre (648, 59) ccw
  line L384 (648, 61) -> (647, 61)
  line L385 (647, 61) -> (647, 69.2064)
  arc A108 (649.6445, 71.0997) -> (647, 69.2064) centre (649, 69.2064) ccw
  line L386 (649.6445, 71.0997) -> (691.2891, 56.9229)
  arc A109 (694, 53.1363) -> (691.2891, 56.9229) centre (690, 53.1363) ccw
  line L387 (694, 53.1363) -> (694, 49)
  line L388 (694, 49) -> (671, 49)
  line L389 (671, 49) -> (671, 47.5)
  line L390 (692.5332, 13) -> (713, 13)
  line L391 (713, 13) -> (713, 28)
  line L392 (713, 28) -> (716, 28)
  line L393 (716, 28) -> (716, 37.1982)
  arc A110 (716, 37.1982) -> (710.5775, 40.9368) centre (712, 37.1982) ccw
  line L394 (710.5775, 40.9368) -> (655.7406, 20.0715)
  arc A111 (655.7406, 20.0715) -> (649.7575, 13.7252) centre (659.2969, 10.7252) ccw
  line L395 (649.7575, 13.7252) -> (659.2969, 13.7252)
  arc A112 (659.2969, 7.7252) -> (659.2969, 13.7252) centre (659.2969, 10.7252) ccw
  line L396 (659.2969, 7.7252) -> (649.2969, 7.7252)
  line L397 (649.2969, 7.7252) -> (649.2963, 1.7997)
  arc A113 (677.6446, -24) -> (649.2963, 1.7997) centre (649, -27) ccw
  line L398 (677.6446, -24) -> (686, -24)
  arc A114 (686.0452, -29.9997) -> (686, -24) centre (686, -27) ccw
  line L399 (686.0452, -29.9997) -> (677.6446, -29.9997)
  arc A115 (649.2975, -55.7997) -> (677.6446, -29.9997) centre (649, -27) ccw
  line L400 (649.2975, -55.7997) -> (649.2976, -61.7252)
  line L401 (649.2976, -61.7252) -> (659.2969, -61.7252)
  arc A116 (659.2969, -67.7252) -> (659.2969, -61.7252) centre (659.2969, -64.7252) ccw
  line L402 (659.2969, -67.7252) -> (649.7575, -67.7252)
  arc A117 (649.7575, -67.7252) -> (655.7406, -74.0715) centre (659.2969, -64.7252) ccw
  line L403 (655.7406, -74.0715) -> (710.5775, -94.9368)
  arc A118 (710.5775, -94.9368) -> (716, -91.1982) centre (712, -91.1982) ccw
  line L404 (716, -91.1982) -> (716, -82)
  line L405 (716, -82) -> (713, -82)
  line L406 (713, -82) -> (713, -67)
  line L407 (713, -67) -> (692.5332, -67)
  line L408 (692.5332, -67) -> (692.5332, -64)
  line L409 (692.5332, -64) -> (716, -64)
  line L410 (716, -64) -> (716, -34.5)
  line L411 (716, -34.5) -> (713, -34.5)
  line L412 (713, -34.5) -> (713, -19.5)
  line L413 (713, -19.5) -> (716, -19.5)
  line L414 (716, -19.5) -> (716, 10)
  line L415 (716, 10) -> (692.5332, 10)
  line L416 (692.5332, 10) -> (692.5332, 13)
  point P0 (0, 0)
  point P1 (461.0632, -21.5795)
  point P2 (593.1982, -27.002)
  point P3 (576.0715, 33.2574)
  point P4 (548.1018, 34.0716)
  point P5 (509.8984, 34.0712)
  point P6 (481.9285, 33.2574)
  point P7 (506, -5.002)
  point P8 (506, 22.998)
  point P9 (512, -5.002)
  point P10 (552, -5.002)
extrude "Extrusion2" add sketch "Sketch2" along normal blind 3 contours L317 L318 L319 L320 L321 L322 L323 L324 L325 L326 L327 L328 L329 L330 L331 L332 L333 L334 L335 L336
properties part number "soporte_base"
